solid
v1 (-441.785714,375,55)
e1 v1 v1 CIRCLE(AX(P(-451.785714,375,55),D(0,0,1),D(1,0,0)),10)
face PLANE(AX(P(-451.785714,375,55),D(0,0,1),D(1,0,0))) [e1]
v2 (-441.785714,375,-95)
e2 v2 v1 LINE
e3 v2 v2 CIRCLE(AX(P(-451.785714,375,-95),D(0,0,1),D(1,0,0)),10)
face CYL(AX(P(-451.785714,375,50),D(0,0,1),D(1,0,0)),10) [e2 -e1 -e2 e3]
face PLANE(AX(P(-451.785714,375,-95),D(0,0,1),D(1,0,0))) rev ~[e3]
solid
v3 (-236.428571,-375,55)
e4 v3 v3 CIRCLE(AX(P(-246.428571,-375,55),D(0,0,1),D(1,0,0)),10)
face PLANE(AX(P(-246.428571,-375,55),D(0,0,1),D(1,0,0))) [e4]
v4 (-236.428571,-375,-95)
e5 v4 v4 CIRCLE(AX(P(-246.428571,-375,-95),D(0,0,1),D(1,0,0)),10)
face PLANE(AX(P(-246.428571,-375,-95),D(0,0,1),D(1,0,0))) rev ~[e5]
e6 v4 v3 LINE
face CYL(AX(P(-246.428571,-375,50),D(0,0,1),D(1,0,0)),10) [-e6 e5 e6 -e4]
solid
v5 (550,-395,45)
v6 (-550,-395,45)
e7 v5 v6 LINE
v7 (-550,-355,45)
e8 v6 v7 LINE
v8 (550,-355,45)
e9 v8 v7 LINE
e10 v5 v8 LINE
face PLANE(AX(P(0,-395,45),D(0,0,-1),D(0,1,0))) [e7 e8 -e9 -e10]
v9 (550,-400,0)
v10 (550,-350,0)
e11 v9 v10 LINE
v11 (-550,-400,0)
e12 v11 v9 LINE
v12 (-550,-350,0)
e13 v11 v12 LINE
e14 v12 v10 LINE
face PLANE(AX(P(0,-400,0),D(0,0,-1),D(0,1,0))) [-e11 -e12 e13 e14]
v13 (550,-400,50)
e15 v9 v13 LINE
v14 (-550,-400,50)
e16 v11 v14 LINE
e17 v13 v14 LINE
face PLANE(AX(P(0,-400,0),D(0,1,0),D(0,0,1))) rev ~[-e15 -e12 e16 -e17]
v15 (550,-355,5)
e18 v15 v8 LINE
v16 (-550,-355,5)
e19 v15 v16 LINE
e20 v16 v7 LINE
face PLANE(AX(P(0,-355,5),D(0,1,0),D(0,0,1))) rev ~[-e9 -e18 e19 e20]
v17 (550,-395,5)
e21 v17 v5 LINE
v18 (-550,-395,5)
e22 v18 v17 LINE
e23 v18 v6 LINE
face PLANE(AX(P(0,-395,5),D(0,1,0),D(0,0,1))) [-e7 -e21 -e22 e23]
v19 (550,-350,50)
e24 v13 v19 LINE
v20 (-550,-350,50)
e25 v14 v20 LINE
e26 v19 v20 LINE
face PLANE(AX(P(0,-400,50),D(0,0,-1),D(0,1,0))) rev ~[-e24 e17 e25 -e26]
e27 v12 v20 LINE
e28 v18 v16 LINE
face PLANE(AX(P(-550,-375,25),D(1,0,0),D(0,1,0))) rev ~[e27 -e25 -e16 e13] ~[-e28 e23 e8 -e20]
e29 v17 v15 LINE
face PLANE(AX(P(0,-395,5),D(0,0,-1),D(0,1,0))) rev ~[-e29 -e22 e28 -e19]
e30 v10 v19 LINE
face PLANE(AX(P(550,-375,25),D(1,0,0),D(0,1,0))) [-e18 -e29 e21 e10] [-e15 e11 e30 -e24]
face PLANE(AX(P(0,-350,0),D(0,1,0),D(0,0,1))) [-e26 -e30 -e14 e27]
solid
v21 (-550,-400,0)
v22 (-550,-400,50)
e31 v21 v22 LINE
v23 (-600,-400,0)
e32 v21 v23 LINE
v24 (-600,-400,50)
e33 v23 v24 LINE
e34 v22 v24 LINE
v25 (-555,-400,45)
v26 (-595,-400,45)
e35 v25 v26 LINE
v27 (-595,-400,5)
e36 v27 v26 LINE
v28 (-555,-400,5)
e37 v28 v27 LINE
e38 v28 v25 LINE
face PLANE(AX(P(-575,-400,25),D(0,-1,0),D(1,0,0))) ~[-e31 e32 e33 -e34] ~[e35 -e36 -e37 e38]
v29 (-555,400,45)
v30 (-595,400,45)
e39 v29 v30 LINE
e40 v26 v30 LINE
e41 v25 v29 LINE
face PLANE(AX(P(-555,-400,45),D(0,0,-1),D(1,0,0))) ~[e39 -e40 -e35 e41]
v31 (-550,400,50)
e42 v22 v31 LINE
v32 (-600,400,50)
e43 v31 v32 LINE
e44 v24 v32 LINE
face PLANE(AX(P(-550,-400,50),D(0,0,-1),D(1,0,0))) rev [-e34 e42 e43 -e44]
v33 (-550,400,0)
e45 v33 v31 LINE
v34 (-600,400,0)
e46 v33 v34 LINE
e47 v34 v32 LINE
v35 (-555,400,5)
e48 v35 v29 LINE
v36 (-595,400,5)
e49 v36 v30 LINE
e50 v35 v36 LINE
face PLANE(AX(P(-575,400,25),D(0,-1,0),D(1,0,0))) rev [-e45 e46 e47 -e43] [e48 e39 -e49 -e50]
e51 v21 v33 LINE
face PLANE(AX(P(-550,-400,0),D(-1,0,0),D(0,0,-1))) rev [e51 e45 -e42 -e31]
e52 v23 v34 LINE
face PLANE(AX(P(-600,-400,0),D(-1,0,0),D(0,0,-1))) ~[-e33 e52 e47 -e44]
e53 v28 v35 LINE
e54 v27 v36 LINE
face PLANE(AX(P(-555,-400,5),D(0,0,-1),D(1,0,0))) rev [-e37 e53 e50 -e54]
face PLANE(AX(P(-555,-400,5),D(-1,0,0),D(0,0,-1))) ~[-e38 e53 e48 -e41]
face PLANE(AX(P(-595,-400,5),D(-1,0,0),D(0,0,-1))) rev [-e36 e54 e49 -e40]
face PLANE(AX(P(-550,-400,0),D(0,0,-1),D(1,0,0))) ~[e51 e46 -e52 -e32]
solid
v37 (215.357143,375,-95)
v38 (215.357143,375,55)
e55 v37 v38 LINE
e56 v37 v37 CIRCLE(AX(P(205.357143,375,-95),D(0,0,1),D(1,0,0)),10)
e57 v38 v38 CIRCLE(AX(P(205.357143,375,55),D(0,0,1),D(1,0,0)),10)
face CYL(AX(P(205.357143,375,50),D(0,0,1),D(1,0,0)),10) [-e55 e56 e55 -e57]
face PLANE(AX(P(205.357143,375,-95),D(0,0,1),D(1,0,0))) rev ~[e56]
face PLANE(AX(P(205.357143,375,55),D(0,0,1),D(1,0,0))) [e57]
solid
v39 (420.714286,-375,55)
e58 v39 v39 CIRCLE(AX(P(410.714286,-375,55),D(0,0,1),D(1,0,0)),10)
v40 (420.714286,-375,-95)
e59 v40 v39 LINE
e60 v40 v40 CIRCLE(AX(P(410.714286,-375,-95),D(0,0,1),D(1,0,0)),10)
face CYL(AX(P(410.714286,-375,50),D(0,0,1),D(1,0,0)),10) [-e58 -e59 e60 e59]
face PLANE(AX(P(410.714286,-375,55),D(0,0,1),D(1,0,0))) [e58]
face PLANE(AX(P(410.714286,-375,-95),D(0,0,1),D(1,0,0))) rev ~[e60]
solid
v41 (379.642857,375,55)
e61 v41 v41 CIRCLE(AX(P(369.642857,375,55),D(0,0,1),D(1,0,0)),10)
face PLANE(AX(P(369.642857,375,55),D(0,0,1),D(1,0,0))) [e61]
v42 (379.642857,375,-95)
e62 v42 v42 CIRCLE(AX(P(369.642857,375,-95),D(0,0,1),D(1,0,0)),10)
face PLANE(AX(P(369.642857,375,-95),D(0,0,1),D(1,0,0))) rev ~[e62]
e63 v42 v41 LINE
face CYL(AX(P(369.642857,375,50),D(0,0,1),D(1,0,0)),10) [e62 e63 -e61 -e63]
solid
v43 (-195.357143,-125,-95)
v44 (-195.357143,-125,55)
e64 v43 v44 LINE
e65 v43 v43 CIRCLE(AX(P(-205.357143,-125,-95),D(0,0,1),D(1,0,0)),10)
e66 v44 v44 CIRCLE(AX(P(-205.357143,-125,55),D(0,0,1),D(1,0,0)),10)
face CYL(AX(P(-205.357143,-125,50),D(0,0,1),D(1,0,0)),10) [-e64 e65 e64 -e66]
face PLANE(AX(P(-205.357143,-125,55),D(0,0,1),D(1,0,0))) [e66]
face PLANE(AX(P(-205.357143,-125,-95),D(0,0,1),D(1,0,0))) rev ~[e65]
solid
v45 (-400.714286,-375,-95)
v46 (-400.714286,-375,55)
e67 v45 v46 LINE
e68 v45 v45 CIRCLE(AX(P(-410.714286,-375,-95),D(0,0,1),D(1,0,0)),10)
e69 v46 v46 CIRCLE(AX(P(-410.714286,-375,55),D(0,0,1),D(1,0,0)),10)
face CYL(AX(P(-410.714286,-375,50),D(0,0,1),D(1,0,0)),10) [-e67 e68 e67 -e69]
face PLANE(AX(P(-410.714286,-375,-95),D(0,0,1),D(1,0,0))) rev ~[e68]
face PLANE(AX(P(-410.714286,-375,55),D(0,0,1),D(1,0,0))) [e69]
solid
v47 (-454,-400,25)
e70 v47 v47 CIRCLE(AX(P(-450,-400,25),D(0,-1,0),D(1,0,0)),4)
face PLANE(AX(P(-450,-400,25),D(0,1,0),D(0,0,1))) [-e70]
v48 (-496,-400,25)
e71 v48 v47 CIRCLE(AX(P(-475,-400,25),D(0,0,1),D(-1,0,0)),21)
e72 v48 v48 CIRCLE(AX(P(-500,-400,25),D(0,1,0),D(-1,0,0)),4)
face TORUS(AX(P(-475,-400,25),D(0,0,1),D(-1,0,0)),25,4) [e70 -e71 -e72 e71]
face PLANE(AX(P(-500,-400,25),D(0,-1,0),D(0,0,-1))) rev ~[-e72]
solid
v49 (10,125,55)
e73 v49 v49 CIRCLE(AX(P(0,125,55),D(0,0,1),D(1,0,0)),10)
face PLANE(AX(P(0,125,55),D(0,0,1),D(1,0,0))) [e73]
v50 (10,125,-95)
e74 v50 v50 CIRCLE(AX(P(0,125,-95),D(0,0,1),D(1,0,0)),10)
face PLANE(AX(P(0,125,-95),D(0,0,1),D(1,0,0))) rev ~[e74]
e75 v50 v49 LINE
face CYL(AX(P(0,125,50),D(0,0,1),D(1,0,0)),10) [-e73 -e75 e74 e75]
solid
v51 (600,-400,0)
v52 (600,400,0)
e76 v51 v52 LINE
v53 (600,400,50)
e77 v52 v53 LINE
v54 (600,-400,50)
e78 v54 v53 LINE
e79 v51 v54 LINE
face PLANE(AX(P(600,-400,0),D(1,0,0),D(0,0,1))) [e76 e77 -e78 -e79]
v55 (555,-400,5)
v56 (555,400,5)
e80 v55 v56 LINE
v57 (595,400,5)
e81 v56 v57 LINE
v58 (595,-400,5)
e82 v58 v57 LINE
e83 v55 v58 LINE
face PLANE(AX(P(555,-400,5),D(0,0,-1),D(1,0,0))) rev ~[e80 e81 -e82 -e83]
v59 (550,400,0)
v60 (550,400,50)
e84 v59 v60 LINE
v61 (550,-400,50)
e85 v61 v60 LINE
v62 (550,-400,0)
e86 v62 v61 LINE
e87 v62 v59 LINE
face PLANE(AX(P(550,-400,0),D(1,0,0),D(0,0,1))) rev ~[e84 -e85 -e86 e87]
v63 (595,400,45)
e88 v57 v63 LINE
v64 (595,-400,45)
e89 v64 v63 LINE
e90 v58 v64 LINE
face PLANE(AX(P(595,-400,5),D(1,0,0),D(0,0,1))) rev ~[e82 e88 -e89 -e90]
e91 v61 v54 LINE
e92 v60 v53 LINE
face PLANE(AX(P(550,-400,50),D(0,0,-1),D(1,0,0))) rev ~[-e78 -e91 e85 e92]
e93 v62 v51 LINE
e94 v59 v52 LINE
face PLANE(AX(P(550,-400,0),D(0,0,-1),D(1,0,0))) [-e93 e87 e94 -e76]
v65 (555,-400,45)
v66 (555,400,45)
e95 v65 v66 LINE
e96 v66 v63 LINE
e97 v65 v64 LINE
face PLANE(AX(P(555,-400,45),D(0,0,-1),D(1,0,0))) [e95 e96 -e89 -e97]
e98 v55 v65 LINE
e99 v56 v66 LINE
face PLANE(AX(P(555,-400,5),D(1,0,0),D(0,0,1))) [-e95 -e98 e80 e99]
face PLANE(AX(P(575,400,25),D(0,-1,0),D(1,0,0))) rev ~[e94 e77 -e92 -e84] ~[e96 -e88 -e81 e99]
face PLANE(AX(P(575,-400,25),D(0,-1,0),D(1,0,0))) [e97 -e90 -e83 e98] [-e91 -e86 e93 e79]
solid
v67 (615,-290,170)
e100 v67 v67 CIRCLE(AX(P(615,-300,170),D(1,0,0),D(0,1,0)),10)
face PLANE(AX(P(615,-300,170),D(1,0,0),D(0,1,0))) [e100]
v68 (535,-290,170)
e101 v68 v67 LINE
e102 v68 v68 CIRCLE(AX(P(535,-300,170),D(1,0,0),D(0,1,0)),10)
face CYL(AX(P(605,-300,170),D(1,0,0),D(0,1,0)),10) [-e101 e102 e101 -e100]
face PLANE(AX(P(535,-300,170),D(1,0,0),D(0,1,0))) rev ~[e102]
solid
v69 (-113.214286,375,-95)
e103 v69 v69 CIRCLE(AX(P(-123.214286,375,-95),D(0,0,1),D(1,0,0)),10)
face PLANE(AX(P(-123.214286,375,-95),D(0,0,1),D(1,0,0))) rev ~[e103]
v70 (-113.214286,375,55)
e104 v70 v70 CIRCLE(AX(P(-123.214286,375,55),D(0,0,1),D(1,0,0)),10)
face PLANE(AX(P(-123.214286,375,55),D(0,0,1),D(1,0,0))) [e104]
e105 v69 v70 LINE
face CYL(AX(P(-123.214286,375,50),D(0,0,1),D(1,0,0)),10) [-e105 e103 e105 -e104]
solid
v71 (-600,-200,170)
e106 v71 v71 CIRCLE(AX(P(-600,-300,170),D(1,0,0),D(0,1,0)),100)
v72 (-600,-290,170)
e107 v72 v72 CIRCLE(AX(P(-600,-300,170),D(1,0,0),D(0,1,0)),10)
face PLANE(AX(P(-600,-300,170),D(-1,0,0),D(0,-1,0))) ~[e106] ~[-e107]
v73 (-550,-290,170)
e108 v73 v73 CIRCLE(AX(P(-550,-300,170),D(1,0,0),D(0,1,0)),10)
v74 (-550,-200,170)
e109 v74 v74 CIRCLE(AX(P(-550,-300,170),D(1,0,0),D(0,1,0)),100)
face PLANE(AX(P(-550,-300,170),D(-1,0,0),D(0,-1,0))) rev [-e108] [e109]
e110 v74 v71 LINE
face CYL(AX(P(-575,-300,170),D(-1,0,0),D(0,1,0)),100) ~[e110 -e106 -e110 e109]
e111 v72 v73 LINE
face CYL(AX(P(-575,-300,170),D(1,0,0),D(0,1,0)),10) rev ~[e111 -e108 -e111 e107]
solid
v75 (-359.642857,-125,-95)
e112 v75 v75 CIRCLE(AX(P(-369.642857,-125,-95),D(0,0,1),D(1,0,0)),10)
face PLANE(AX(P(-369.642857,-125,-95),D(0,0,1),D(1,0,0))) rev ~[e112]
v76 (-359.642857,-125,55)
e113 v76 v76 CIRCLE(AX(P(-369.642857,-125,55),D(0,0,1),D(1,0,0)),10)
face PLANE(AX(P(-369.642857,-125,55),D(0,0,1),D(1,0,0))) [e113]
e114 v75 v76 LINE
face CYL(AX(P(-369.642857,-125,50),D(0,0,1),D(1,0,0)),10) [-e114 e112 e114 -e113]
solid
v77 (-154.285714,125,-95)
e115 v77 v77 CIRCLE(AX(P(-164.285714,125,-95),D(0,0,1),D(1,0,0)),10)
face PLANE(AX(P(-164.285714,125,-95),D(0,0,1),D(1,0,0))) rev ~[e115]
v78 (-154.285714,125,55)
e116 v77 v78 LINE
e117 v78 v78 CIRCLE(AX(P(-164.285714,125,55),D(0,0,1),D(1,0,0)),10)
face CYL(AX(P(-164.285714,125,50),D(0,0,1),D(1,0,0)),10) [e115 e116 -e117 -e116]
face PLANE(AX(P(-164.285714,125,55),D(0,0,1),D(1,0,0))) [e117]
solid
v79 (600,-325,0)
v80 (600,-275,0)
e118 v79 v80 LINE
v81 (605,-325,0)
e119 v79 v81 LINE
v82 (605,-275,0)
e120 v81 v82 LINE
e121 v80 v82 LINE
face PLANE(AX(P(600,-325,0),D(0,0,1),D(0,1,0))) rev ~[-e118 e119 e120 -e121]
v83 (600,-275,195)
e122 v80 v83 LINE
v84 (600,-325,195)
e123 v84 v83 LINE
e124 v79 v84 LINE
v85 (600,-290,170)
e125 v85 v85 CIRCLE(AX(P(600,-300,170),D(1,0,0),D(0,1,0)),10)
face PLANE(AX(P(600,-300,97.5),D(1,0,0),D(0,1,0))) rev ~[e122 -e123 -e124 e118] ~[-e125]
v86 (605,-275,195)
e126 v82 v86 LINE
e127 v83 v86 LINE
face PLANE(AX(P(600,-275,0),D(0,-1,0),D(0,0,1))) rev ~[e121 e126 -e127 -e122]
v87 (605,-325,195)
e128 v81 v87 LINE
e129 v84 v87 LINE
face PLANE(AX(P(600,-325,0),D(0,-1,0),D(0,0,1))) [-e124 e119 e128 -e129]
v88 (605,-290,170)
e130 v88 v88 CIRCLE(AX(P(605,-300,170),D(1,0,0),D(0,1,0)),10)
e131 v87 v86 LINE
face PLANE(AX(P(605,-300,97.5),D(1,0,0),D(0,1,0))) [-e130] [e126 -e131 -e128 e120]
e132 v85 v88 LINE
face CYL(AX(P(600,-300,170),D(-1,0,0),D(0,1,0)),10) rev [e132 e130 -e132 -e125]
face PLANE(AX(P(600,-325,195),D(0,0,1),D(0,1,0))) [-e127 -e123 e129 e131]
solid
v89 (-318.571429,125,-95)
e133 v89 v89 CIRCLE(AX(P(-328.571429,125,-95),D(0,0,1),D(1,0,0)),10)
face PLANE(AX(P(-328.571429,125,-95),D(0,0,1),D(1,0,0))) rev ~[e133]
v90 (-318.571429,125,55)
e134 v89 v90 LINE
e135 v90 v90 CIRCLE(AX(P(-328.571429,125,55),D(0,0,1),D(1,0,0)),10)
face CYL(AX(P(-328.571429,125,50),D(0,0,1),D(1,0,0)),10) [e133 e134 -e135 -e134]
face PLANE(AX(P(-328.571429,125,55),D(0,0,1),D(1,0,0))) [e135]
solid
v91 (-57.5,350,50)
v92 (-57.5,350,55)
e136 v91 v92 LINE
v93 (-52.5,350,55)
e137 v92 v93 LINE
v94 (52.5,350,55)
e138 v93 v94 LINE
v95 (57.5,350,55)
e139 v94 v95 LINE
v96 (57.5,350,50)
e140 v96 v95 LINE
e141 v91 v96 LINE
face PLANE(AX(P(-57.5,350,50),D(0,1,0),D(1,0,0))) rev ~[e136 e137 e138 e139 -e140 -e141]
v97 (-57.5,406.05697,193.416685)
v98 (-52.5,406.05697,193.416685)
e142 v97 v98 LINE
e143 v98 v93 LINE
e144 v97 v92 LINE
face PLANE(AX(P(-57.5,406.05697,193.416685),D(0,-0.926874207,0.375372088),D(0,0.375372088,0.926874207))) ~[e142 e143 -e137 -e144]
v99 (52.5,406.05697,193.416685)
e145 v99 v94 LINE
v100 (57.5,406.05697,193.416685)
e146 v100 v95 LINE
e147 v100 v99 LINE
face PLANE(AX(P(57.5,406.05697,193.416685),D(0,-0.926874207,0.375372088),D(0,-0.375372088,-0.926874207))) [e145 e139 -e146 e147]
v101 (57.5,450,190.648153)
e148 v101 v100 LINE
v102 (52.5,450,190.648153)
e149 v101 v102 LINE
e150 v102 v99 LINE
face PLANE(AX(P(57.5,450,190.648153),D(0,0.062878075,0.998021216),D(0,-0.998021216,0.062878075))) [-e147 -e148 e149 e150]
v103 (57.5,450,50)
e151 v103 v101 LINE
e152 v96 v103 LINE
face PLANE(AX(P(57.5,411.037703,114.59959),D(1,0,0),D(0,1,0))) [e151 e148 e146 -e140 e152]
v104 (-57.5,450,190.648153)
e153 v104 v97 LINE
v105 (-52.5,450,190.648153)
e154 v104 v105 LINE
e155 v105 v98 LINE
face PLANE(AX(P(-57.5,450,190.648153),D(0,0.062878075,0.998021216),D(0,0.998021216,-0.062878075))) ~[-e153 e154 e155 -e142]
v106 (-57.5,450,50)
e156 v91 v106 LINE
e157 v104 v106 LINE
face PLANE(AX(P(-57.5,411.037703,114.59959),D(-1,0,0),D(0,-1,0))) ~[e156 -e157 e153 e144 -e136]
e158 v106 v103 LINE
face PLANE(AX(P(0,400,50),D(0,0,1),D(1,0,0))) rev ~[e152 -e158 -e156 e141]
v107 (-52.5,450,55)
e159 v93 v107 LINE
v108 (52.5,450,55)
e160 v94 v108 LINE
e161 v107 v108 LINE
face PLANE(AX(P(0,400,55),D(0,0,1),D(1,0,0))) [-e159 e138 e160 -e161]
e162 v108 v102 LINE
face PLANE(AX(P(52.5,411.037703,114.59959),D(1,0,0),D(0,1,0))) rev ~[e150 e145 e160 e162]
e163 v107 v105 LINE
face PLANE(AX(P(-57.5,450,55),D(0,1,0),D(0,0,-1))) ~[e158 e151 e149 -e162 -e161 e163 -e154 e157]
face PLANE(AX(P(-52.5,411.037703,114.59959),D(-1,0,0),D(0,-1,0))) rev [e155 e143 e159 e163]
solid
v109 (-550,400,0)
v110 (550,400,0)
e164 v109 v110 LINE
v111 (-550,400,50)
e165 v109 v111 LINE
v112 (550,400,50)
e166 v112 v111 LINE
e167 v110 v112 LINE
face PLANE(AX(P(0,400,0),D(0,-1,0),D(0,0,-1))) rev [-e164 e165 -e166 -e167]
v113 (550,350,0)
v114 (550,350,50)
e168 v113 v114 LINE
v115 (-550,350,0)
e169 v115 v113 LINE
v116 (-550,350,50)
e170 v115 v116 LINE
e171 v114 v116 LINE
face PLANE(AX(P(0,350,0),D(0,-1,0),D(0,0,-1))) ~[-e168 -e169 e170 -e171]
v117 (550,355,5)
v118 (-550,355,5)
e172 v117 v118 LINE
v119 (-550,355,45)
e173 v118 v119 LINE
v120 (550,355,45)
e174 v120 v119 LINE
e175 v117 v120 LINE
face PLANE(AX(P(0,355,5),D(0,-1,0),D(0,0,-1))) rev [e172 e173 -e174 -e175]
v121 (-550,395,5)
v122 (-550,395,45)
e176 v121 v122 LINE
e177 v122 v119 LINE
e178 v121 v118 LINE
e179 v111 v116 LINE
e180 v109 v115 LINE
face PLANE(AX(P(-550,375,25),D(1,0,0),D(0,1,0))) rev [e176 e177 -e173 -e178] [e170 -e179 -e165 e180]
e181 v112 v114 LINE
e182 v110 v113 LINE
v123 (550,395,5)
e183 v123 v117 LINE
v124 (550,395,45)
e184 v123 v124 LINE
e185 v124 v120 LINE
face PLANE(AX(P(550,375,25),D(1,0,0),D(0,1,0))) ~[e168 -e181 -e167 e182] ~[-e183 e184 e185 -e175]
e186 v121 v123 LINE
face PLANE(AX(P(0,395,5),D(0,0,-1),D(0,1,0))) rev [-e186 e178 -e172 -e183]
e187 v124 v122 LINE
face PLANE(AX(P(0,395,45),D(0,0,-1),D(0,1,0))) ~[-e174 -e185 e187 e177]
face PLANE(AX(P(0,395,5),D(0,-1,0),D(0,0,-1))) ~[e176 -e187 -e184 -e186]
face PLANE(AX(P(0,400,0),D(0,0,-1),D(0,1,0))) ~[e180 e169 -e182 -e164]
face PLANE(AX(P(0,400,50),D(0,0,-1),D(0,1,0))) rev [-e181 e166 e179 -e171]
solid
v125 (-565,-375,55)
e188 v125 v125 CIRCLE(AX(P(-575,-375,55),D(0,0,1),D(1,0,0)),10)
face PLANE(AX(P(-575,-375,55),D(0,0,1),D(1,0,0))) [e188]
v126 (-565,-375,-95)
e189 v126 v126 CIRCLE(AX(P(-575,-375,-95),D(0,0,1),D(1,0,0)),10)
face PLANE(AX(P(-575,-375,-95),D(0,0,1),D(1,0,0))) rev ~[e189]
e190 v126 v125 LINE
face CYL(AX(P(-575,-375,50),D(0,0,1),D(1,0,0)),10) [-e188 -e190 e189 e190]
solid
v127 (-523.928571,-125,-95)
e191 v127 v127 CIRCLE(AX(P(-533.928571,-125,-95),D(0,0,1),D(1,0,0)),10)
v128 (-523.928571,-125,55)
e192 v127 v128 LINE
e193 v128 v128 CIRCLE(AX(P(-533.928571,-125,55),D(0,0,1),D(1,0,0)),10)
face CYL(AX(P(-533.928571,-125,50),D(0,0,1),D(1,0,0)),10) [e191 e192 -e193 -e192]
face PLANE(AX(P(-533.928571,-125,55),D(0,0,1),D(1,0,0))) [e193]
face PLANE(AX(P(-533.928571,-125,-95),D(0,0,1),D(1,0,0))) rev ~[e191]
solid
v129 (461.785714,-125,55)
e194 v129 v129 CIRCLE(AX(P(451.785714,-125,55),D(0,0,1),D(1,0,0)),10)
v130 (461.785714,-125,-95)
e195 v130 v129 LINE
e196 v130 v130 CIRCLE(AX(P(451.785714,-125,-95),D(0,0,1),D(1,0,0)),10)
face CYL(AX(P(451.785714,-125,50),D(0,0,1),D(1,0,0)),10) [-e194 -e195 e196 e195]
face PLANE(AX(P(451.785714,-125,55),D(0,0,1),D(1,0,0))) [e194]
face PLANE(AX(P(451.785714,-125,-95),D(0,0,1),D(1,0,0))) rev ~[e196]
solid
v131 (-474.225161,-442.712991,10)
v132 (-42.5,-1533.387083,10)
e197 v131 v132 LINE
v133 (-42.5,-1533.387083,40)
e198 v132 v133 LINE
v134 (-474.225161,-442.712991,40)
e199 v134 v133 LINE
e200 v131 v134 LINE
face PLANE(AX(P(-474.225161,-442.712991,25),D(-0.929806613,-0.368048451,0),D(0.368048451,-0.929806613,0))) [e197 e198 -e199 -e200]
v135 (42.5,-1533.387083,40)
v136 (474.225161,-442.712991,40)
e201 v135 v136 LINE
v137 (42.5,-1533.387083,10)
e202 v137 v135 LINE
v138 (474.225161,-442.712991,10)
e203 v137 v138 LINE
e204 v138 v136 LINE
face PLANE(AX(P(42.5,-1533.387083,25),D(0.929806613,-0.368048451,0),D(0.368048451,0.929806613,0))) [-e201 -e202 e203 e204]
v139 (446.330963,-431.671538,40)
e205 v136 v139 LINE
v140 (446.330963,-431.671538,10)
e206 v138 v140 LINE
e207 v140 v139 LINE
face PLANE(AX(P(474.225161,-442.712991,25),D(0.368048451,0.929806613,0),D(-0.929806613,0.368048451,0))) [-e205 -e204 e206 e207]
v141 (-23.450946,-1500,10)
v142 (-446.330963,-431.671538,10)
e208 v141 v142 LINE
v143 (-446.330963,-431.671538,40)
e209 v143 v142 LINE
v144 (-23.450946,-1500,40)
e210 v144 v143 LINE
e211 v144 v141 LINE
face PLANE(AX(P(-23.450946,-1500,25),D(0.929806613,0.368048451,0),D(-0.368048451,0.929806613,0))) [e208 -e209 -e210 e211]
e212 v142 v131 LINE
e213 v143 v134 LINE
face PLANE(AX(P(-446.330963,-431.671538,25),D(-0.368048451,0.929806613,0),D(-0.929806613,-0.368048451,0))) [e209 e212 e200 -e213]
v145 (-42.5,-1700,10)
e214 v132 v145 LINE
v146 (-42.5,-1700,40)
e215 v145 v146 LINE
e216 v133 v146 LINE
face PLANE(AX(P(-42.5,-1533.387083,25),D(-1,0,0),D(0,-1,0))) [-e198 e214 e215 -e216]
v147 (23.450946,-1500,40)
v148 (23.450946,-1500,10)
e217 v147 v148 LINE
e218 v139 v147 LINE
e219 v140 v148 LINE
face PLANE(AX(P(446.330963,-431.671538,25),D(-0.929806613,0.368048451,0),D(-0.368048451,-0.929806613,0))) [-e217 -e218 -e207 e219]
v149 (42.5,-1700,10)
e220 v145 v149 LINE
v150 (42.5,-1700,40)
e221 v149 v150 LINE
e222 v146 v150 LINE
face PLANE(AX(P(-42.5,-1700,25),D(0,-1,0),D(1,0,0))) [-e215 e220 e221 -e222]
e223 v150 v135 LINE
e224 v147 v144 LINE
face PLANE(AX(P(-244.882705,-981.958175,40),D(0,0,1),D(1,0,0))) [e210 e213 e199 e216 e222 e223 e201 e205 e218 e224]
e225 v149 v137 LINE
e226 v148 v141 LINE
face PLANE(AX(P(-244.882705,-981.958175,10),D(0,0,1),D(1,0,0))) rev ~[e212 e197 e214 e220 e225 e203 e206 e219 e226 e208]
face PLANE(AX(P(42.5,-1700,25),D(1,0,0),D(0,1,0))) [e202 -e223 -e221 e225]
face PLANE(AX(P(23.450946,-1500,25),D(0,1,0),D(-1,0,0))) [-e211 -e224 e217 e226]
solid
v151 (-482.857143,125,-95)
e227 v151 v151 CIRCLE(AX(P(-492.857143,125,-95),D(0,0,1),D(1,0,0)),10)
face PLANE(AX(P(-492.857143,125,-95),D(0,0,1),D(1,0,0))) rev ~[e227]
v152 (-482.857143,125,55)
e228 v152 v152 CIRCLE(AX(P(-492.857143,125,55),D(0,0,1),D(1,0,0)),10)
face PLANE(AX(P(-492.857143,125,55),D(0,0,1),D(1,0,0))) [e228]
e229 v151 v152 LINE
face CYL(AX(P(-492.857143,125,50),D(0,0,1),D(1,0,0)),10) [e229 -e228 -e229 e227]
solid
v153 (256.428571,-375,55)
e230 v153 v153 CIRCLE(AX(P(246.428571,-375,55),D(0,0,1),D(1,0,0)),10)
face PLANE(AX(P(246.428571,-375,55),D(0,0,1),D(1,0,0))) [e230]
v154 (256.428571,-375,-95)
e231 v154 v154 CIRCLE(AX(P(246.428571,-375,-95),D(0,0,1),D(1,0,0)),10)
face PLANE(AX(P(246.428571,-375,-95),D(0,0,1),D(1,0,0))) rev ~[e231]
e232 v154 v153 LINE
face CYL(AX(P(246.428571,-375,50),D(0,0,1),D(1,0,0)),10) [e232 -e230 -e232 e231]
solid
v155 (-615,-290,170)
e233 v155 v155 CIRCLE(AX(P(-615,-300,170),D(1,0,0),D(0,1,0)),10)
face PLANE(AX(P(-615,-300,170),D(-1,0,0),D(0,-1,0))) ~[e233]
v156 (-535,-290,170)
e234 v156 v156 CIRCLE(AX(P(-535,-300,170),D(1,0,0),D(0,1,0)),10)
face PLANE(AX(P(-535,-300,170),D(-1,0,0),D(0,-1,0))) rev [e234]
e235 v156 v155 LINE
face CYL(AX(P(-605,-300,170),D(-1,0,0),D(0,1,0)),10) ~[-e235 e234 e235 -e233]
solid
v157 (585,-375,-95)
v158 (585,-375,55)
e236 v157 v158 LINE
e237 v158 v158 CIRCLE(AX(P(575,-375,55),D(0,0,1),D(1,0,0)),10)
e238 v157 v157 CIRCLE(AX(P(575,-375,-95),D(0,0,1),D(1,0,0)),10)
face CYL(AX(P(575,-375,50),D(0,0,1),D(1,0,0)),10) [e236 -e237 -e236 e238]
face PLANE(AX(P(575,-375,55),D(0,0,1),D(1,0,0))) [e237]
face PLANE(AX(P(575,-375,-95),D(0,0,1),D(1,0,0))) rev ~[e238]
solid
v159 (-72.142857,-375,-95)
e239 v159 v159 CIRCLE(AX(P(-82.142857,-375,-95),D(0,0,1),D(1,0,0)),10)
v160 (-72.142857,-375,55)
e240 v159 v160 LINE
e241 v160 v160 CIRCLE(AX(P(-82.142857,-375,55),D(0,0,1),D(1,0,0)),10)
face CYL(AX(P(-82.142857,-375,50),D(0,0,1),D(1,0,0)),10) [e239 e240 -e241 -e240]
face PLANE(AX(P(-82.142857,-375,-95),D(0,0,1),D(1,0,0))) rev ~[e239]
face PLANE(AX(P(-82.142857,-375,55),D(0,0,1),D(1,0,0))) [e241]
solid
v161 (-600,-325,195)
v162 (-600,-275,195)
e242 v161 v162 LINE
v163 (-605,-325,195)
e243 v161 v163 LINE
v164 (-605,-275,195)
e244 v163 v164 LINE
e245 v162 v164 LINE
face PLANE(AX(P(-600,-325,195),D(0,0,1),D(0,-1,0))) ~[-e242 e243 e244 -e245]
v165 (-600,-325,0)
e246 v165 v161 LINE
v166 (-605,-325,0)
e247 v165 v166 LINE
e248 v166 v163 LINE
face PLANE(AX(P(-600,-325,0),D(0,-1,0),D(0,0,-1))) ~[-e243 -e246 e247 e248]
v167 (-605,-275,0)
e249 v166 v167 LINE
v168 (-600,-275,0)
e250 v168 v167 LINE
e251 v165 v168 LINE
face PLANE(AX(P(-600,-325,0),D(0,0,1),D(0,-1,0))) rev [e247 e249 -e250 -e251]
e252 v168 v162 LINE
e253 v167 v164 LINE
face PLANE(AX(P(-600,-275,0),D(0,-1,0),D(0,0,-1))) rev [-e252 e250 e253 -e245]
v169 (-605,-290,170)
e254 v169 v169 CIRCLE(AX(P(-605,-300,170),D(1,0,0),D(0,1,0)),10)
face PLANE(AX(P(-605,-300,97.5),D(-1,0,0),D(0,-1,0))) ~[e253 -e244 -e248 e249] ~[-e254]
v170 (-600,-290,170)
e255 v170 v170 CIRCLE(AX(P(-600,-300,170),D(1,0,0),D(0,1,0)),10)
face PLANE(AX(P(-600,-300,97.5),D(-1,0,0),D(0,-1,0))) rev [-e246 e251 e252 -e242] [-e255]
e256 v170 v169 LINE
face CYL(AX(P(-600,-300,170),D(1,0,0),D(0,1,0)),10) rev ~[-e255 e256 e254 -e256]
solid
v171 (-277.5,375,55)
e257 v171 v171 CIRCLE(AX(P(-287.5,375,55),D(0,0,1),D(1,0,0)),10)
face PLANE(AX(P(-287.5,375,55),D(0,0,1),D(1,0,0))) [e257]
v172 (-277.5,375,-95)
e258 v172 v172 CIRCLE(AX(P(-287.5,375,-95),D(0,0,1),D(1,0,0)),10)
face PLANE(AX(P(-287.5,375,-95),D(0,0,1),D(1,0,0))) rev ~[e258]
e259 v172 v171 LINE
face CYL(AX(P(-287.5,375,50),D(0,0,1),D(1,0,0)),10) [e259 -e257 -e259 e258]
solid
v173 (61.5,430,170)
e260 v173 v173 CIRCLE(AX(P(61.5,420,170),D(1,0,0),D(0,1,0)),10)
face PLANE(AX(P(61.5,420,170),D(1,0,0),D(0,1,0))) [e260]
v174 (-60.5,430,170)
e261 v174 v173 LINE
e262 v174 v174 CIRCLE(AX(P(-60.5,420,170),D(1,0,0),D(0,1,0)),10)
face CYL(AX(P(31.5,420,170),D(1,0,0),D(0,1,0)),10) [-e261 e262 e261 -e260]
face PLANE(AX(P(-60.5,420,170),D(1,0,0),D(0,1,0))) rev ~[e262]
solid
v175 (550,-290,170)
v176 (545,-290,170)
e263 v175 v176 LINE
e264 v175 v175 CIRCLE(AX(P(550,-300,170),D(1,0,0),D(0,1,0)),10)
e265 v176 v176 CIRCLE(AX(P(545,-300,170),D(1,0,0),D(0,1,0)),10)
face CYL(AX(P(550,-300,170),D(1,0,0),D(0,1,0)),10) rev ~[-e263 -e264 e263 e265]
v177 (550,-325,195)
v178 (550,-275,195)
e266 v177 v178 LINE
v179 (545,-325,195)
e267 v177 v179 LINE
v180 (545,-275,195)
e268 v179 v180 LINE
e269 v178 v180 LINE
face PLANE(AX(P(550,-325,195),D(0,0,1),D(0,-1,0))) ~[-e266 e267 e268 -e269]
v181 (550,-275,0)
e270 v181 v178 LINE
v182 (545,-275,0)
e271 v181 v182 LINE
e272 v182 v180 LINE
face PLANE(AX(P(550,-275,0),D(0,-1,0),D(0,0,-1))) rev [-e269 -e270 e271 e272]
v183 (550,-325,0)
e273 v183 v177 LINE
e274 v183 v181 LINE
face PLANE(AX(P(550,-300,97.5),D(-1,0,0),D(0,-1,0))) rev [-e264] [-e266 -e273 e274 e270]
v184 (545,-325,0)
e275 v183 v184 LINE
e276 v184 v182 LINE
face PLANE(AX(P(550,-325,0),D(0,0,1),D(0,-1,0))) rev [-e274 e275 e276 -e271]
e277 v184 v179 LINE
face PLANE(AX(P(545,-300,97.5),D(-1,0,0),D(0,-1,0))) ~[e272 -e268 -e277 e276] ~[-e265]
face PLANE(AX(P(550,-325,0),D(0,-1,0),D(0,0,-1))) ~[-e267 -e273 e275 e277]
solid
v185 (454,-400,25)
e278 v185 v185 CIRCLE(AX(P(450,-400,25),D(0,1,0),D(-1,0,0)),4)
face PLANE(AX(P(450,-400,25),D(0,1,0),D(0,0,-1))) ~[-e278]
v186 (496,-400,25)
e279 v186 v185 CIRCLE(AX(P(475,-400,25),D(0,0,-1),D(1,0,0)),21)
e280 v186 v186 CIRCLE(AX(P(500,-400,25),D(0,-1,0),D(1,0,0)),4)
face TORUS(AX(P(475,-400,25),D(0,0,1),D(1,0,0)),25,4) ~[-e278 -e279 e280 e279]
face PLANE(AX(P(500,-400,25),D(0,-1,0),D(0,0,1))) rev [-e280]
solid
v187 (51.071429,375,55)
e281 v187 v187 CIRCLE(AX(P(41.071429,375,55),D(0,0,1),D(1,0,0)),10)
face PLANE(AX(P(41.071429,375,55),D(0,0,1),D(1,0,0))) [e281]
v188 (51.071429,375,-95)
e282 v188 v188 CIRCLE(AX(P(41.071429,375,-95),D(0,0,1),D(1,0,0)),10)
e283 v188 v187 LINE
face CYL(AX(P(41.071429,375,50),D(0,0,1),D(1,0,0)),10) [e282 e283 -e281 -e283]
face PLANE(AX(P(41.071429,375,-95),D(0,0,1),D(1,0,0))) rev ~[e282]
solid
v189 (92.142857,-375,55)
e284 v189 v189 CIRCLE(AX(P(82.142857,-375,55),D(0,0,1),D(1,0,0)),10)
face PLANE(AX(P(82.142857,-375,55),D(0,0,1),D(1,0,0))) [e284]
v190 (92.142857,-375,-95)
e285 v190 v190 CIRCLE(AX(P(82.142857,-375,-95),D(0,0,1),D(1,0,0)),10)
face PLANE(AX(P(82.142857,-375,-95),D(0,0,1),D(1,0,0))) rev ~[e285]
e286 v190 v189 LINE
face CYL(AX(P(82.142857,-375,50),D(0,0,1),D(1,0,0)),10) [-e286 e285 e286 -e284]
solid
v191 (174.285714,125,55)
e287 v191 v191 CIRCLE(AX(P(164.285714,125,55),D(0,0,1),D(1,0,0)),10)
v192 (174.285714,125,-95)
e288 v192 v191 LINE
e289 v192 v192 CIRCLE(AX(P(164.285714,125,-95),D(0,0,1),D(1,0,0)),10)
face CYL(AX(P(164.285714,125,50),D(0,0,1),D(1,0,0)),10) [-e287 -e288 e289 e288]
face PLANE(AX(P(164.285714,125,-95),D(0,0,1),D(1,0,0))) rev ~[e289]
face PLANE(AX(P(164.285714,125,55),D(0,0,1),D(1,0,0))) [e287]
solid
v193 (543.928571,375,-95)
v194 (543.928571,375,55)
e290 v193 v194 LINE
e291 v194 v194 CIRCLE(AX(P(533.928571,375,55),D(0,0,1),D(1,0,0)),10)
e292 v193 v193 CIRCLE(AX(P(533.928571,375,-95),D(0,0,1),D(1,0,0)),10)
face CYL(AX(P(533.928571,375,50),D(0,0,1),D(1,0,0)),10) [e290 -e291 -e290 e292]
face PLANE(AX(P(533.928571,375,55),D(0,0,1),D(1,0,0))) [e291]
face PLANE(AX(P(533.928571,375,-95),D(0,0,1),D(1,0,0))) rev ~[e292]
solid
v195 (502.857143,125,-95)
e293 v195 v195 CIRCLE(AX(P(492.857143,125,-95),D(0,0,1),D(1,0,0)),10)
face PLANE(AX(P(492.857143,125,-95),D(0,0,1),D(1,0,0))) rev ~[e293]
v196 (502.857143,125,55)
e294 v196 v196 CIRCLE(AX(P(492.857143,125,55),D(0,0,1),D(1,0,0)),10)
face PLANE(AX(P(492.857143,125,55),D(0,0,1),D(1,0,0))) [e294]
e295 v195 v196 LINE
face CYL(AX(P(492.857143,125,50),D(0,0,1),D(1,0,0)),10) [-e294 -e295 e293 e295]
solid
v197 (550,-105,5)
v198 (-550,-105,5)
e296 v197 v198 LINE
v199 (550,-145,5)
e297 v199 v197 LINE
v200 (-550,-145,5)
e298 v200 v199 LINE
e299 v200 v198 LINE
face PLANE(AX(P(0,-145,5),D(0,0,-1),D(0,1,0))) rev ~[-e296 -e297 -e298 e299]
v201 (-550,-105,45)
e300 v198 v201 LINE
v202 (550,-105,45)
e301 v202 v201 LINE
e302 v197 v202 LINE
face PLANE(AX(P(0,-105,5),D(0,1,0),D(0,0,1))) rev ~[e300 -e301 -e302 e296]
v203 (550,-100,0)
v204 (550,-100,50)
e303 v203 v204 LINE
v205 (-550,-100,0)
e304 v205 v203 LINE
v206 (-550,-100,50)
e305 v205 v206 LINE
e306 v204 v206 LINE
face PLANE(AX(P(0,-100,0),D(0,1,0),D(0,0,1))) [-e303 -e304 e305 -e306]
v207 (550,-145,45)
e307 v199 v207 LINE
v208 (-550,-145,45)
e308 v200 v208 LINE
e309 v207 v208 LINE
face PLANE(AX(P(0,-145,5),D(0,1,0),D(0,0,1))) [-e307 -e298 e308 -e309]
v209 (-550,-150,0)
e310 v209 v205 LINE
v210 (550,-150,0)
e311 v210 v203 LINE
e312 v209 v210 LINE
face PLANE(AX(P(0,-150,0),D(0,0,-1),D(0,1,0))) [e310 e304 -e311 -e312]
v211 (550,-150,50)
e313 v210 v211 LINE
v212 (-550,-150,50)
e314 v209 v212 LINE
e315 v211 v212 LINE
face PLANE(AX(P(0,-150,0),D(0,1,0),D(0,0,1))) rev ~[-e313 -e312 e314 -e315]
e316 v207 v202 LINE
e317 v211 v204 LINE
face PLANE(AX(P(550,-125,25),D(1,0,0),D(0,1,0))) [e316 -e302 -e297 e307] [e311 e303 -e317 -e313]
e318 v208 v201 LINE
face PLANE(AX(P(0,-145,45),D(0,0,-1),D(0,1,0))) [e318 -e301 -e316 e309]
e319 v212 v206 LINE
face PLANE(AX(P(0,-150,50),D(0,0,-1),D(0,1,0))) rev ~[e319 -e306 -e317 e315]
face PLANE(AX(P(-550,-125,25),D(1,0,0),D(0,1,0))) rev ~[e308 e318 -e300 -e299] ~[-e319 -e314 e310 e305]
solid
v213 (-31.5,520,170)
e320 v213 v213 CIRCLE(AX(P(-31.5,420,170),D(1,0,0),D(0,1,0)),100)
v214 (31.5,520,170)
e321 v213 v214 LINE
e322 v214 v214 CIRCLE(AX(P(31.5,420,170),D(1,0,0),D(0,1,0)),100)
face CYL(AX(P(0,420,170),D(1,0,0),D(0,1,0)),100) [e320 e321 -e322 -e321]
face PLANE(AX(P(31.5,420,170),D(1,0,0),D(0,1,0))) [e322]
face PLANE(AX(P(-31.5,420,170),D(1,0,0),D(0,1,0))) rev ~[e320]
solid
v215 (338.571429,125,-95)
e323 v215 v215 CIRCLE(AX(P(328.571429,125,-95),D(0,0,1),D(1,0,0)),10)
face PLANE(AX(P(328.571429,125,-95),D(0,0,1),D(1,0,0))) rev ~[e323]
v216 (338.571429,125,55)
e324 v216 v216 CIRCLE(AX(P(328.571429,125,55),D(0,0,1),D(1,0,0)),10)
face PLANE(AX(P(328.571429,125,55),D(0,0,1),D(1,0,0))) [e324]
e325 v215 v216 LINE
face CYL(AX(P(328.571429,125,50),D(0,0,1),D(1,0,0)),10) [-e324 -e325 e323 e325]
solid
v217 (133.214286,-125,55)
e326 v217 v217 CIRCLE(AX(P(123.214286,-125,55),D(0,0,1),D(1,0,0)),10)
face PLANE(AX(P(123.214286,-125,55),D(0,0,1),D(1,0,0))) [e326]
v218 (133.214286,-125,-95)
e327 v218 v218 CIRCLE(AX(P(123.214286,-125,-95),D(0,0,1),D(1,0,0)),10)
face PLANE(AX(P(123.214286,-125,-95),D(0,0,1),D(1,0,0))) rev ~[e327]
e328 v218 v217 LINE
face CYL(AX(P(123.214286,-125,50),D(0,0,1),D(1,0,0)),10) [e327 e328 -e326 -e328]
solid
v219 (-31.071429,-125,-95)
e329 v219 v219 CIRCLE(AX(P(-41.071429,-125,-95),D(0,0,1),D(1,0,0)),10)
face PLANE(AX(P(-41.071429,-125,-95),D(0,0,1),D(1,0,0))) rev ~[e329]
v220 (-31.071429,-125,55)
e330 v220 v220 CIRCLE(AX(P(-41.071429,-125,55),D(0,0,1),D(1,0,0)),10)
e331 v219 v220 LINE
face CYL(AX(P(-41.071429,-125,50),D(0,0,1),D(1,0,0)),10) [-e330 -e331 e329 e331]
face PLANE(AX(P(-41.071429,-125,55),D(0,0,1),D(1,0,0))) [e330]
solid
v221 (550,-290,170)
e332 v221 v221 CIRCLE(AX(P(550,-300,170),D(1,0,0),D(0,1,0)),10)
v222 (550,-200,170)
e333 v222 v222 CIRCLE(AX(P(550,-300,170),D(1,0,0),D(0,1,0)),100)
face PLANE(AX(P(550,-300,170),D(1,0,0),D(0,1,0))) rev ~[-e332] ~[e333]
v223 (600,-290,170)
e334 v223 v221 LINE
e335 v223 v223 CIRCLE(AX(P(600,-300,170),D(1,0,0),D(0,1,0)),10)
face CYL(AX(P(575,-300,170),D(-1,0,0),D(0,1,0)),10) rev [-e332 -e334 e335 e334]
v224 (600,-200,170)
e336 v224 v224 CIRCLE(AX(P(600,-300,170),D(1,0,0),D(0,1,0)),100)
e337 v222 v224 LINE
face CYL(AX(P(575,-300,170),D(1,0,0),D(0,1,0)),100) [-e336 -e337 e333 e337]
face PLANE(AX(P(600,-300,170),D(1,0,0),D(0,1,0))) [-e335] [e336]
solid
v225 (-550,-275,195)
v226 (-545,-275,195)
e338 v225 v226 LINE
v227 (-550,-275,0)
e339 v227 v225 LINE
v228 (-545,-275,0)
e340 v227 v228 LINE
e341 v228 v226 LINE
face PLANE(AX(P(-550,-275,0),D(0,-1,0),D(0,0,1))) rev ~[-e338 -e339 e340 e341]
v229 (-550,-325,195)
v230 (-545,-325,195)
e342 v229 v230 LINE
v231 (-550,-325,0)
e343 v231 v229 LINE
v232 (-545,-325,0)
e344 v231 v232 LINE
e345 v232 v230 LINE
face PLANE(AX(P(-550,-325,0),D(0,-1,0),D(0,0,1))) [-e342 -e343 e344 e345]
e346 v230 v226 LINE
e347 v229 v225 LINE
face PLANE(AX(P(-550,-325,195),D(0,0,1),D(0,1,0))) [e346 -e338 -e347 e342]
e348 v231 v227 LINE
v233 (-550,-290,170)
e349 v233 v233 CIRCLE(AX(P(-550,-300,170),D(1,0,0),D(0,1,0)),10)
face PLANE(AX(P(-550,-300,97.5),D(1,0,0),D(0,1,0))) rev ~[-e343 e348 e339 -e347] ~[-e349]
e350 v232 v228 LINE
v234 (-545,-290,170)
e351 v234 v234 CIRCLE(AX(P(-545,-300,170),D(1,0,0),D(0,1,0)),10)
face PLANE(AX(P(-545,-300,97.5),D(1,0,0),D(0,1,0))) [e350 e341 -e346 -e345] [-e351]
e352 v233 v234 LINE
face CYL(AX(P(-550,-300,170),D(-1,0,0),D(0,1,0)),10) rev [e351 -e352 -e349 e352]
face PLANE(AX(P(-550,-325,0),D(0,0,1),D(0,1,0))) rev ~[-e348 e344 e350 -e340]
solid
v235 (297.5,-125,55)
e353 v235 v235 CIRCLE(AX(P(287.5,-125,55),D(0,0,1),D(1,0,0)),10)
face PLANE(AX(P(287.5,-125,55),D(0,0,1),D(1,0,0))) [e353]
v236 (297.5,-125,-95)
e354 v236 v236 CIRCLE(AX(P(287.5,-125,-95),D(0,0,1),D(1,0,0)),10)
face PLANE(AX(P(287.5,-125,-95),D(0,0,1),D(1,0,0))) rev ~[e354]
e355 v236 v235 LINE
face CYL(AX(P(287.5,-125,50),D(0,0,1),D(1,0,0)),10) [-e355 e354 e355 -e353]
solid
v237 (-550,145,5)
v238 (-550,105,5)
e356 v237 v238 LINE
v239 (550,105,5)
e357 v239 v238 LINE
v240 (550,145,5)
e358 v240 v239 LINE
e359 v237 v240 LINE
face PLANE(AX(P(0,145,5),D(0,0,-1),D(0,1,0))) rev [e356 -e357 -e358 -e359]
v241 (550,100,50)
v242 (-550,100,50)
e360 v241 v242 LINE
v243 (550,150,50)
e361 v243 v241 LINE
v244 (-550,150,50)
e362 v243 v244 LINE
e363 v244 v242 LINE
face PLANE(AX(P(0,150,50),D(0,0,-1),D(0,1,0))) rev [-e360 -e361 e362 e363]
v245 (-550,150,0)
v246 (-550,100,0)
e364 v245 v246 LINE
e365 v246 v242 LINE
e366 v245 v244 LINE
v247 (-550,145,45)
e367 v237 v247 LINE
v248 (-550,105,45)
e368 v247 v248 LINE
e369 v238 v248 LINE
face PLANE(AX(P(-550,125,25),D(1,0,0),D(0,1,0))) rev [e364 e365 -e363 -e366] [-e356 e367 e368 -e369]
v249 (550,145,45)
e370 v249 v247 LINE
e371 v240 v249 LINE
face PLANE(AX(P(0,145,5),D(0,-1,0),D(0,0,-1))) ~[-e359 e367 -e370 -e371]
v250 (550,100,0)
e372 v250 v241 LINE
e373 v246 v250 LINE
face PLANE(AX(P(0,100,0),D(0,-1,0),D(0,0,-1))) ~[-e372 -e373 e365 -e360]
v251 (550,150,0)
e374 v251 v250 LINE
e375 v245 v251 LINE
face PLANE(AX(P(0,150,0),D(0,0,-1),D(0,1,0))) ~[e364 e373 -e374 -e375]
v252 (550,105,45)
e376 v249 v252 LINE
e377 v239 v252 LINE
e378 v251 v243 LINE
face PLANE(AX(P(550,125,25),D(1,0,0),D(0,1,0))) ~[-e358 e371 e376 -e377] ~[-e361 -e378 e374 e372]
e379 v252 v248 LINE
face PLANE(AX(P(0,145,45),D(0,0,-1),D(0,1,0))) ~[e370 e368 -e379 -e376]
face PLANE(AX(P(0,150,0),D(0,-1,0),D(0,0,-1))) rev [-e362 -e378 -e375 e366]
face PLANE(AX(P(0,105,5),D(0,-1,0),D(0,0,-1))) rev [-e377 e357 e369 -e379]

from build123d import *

# Parameters (mm, degrees)
F2_W           = 50
F2_H           = 50
F2_W_2         = 40
F2_H_2         = 40
F3_DEPTH       = 550
F5_W           = 50
F5_H           = 50
F5_W_2         = 40
F5_H_2         = 40
F6_DEPTH       = 800
F10_R          = 10
F11_DEPTH      = 5
F11_DEPTH_BACK = 145
F12_R          = 10
F13_DEPTH      = 5
F13_DEPTH_BACK = 145
F14_R          = 10
F15_DEPTH      = 5
F15_DEPTH_BACK = 145
F16_R          = 10
F17_DEPTH      = 5
F17_DEPTH_BACK = 145
F21_R          = 4
F25_DEPTH      = 15
F27_R          = 100
F27_R_2        = 10
F28_DEPTH      = 25
F29_W          = 50
F29_H          = 195
F29_R          = 10
F30_DEPTH      = 5
F32_R          = 10
F33_DEPTH      = 10
F33_DEPTH_BACK = 70
F35_R          = 100
F36_DEPTH      = 31.5
F37_W          = 115
F37_H          = 100
F38_DEPTH      = 5
F40_DEPTH      = 5
F42_R          = 10
F43_DEPTH      = 30
F43_DEPTH_BACK = 92


with BuildPart() as f3:
    # F2 (on Right) → F3 (new body, symmetric)
    with BuildSketch(Plane.YZ):
        with Locations((-375, 25)):
            Rectangle(F2_W, F2_H)
        with Locations((-375, 25)):
            Rectangle(F2_W_2, F2_H_2, mode=Mode.SUBTRACT)
    extrude(amount=F3_DEPTH, both=True)


with BuildPart() as f3b:
    # F2 (on Right) → F3, piece 2 (new body, symmetric)
    with BuildSketch(Plane.YZ):
        with Locations((-125, 25)):
            Rectangle(F2_W, F2_H)
        with Locations((-125, 25)):
            Rectangle(F2_W_2, F2_H_2, mode=Mode.SUBTRACT)
    extrude(amount=F3_DEPTH, both=True)


with BuildPart() as f4_1:
    # F4: instance of F3
    add(f3.part.mirror(Plane.XZ))


with BuildPart() as f4_2:
    # F4: instance of F3b
    add(f3b.part.mirror(Plane.XZ))


with BuildPart() as f6:
    # F5 (on face) → F6 (new body, through all)
    with BuildSketch(Plane.XZ.offset(400)):
        with Locations((575, 25)):
            Rectangle(F5_W, F5_H)
        with Locations((575, 25)):
            Rectangle(F5_W_2, F5_H_2, mode=Mode.SUBTRACT)
    extrude(amount=-F6_DEPTH)


with BuildPart() as f7_1:
    # F7: instance of F6
    add(f6.part.mirror(Plane.YZ))


with BuildPart() as f11:
    # F10 (on face) → F11 (new body, two sides)
    with BuildSketch(Plane.XY.offset(50)) as f11_sk:
        with Locations((-575, -375)):
            Circle(F10_R)
    extrude(amount=F11_DEPTH)
    extrude(f11_sk.sketch, amount=-F11_DEPTH_BACK)


with BuildPart() as f11b:
    # F10 (on face) → F11, piece 2 (new body, two sides)
    with BuildSketch(Plane.XY.offset(50)) as f11_2_sk:
        with Locations((-410.7142857143, -375)):
            Circle(F10_R)
    extrude(amount=F11_DEPTH)
    extrude(f11_2_sk.sketch, amount=-F11_DEPTH_BACK)


with BuildPart() as f11c:
    # F10 (on face) → F11, piece 3 (new body, two sides)
    with BuildSketch(Plane.XY.offset(50)) as f11_3_sk:
        with Locations((-246.4285714286, -375)):
            Circle(F10_R)
    extrude(amount=F11_DEPTH)
    extrude(f11_3_sk.sketch, amount=-F11_DEPTH_BACK)


with BuildPart() as f11d:
    # F10 (on face) → F11, piece 4 (new body, two sides)
    with BuildSketch(Plane.XY.offset(50)) as f11_4_sk:
        with Locations((-82.1428571429, -375)):
            Circle(F10_R)
    extrude(amount=F11_DEPTH)
    extrude(f11_4_sk.sketch, amount=-F11_DEPTH_BACK)


with BuildPart() as f11e:
    # F10 (on face) → F11, piece 5 (new body, two sides)
    with BuildSketch(Plane.XY.offset(50)) as f11_5_sk:
        with Locations((82.1428571429, -375)):
            Circle(F10_R)
    extrude(amount=F11_DEPTH)
    extrude(f11_5_sk.sketch, amount=-F11_DEPTH_BACK)


with BuildPart() as f11f:
    # F10 (on face) → F11, piece 6 (new body, two sides)
    with BuildSketch(Plane.XY.offset(50)) as f11_6_sk:
        with Locations((246.4285714286, -375)):
            Circle(F10_R)
    extrude(amount=F11_DEPTH)
    extrude(f11_6_sk.sketch, amount=-F11_DEPTH_BACK)


with BuildPart() as f11g:
    # F10 (on face) → F11, piece 7 (new body, two sides)
    with BuildSketch(Plane.XY.offset(50)) as f11_7_sk:
        with Locations((410.7142857143, -375)):
            Circle(F10_R)
    extrude(amount=F11_DEPTH)
    extrude(f11_7_sk.sketch, amount=-F11_DEPTH_BACK)


with BuildPart() as f11h:
    # F10 (on face) → F11, piece 8 (new body, two sides)
    with BuildSketch(Plane.XY.offset(50)) as f11_8_sk:
        with Locations((575, -375)):
            Circle(F10_R)
    extrude(amount=F11_DEPTH)
    extrude(f11_8_sk.sketch, amount=-F11_DEPTH_BACK)


with BuildPart() as f13:
    # F12 (on face) → F13 (new body, two sides)
    with BuildSketch(Plane.XY.offset(50)) as f13_sk:
        with Locations((-533.9285714286, -125)):
            Circle(F12_R)
    extrude(amount=F13_DEPTH)
    extrude(f13_sk.sketch, amount=-F13_DEPTH_BACK)


with BuildPart() as f13b:
    # F12 (on face) → F13, piece 2 (new body, two sides)
    with BuildSketch(Plane.XY.offset(50)) as f13_2_sk:
        with Locations((-369.6428571429, -125)):
            Circle(F12_R)
    extrude(amount=F13_DEPTH)
    extrude(f13_2_sk.sketch, amount=-F13_DEPTH_BACK)


with BuildPart() as f13c:
    # F12 (on face) → F13, piece 3 (new body, two sides)
    with BuildSketch(Plane.XY.offset(50)) as f13_3_sk:
        with Locations((-205.3571428571, -125)):
            Circle(F12_R)
    extrude(amount=F13_DEPTH)
    extrude(f13_3_sk.sketch, amount=-F13_DEPTH_BACK)


with BuildPart() as f13d:
    # F12 (on face) → F13, piece 4 (new body, two sides)
    with BuildSketch(Plane.XY.offset(50)) as f13_4_sk:
        with Locations((-41.0714285714, -125)):
            Circle(F12_R)
    extrude(amount=F13_DEPTH)
    extrude(f13_4_sk.sketch, amount=-F13_DEPTH_BACK)


with BuildPart() as f13e:
    # F12 (on face) → F13, piece 5 (new body, two sides)
    with BuildSketch(Plane.XY.offset(50)) as f13_5_sk:
        with Locations((123.2142857143, -125)):
            Circle(F12_R)
    extrude(amount=F13_DEPTH)
    extrude(f13_5_sk.sketch, amount=-F13_DEPTH_BACK)


with BuildPart() as f13f:
    # F12 (on face) → F13, piece 6 (new body, two sides)
    with BuildSketch(Plane.XY.offset(50)) as f13_6_sk:
        with Locations((287.5, -125)):
            Circle(F12_R)
    extrude(amount=F13_DEPTH)
    extrude(f13_6_sk.sketch, amount=-F13_DEPTH_BACK)


with BuildPart() as f13g:
    # F12 (on face) → F13, piece 7 (new body, two sides)
    with BuildSketch(Plane.XY.offset(50)) as f13_7_sk:
        with Locations((451.7857142857, -125)):
            Circle(F12_R)
    extrude(amount=F13_DEPTH)
    extrude(f13_7_sk.sketch, amount=-F13_DEPTH_BACK)


with BuildPart() as f15:
    # F14 (on face) → F15 (new body, two sides)
    with BuildSketch(Plane.XY.offset(50)) as f15_sk:
        with Locations((-492.8571428571, 125)):
            Circle(F14_R)
    extrude(amount=F15_DEPTH)
    extrude(f15_sk.sketch, amount=-F15_DEPTH_BACK)


with BuildPart() as f15b:
    # F14 (on face) → F15, piece 2 (new body, two sides)
    with BuildSketch(Plane.XY.offset(50)) as f15_2_sk:
        with Locations((-328.5714285714, 125)):
            Circle(F14_R)
    extrude(amount=F15_DEPTH)
    extrude(f15_2_sk.sketch, amount=-F15_DEPTH_BACK)


with BuildPart() as f15c:
    # F14 (on face) → F15, piece 3 (new body, two sides)
    with BuildSketch(Plane.XY.offset(50)) as f15_3_sk:
        with Locations((-164.2857142857, 125)):
            Circle(F14_R)
    extrude(amount=F15_DEPTH)
    extrude(f15_3_sk.sketch, amount=-F15_DEPTH_BACK)


with BuildPart() as f15d:
    # F14 (on face) → F15, piece 4 (new body, two sides)
    with BuildSketch(Plane.XY.offset(50)) as f15_4_sk:
        with Locations((0, 125)):
            Circle(F14_R)
    extrude(amount=F15_DEPTH)
    extrude(f15_4_sk.sketch, amount=-F15_DEPTH_BACK)


with BuildPart() as f15e:
    # F14 (on face) → F15, piece 5 (new body, two sides)
    with BuildSketch(Plane.XY.offset(50)) as f15_5_sk:
        with Locations((164.2857142857, 125)):
            Circle(F14_R)
    extrude(amount=F15_DEPTH)
    extrude(f15_5_sk.sketch, amount=-F15_DEPTH_BACK)


with BuildPart() as f15f:
    # F14 (on face) → F15, piece 6 (new body, two sides)
    with BuildSketch(Plane.XY.offset(50)) as f15_6_sk:
        with Locations((328.5714285714, 125)):
            Circle(F14_R)
    extrude(amount=F15_DEPTH)
    extrude(f15_6_sk.sketch, amount=-F15_DEPTH_BACK)


with BuildPart() as f15g:
    # F14 (on face) → F15, piece 7 (new body, two sides)
    with BuildSketch(Plane.XY.offset(50)) as f15_7_sk:
        with Locations((492.8571428571, 125)):
            Circle(F14_R)
    extrude(amount=F15_DEPTH)
    extrude(f15_7_sk.sketch, amount=-F15_DEPTH_BACK)


with BuildPart() as f17:
    # F16 (on face) → F17 (new body, two sides)
    with BuildSketch(Plane.XY.offset(50)) as f17_sk:
        with Locations((-451.7857142857, 375)):
            Circle(F16_R)
    extrude(amount=F17_DEPTH)
    extrude(f17_sk.sketch, amount=-F17_DEPTH_BACK)


with BuildPart() as f17b:
    # F16 (on face) → F17, piece 2 (new body, two sides)
    with BuildSketch(Plane.XY.offset(50)) as f17_2_sk:
        with Locations((-287.5, 375)):
            Circle(F16_R)
    extrude(amount=F17_DEPTH)
    extrude(f17_2_sk.sketch, amount=-F17_DEPTH_BACK)


with BuildPart() as f17c:
    # F16 (on face) → F17, piece 3 (new body, two sides)
    with BuildSketch(Plane.XY.offset(50)) as f17_3_sk:
        with Locations((-123.2142857143, 375)):
            Circle(F16_R)
    extrude(amount=F17_DEPTH)
    extrude(f17_3_sk.sketch, amount=-F17_DEPTH_BACK)


with BuildPart() as f17d:
    # F16 (on face) → F17, piece 4 (new body, two sides)
    with BuildSketch(Plane.XY.offset(50)) as f17_4_sk:
        with Locations((41.0714285714, 375)):
            Circle(F16_R)
    extrude(amount=F17_DEPTH)
    extrude(f17_4_sk.sketch, amount=-F17_DEPTH_BACK)


with BuildPart() as f17e:
    # F16 (on face) → F17, piece 5 (new body, two sides)
    with BuildSketch(Plane.XY.offset(50)) as f17_5_sk:
        with Locations((205.3571428571, 375)):
            Circle(F16_R)
    extrude(amount=F17_DEPTH)
    extrude(f17_5_sk.sketch, amount=-F17_DEPTH_BACK)


with BuildPart() as f17f:
    # F16 (on face) → F17, piece 6 (new body, two sides)
    with BuildSketch(Plane.XY.offset(50)) as f17_6_sk:
        with Locations((369.6428571429, 375)):
            Circle(F16_R)
    extrude(amount=F17_DEPTH)
    extrude(f17_6_sk.sketch, amount=-F17_DEPTH_BACK)


with BuildPart() as f17g:
    # F16 (on face) → F17, piece 7 (new body, two sides)
    with BuildSketch(Plane.XY.offset(50)) as f17_7_sk:
        with Locations((533.9285714286, 375)):
            Circle(F16_R)
    extrude(amount=F17_DEPTH)
    extrude(f17_7_sk.sketch, amount=-F17_DEPTH_BACK)


with BuildPart() as f22:
    # F22: sweep along a path in F19
    with BuildLine(Plane.XY.offset(25)) as f22_path:
        ThreePointArc((-500, -400), (-475, -425), (-450, -400))
    # F21 (on line) → F22 (sweep)
    with BuildSketch(Plane(origin=(0, -400, 0), x_dir=(-1, 0, 0), z_dir=(0, 1, 0))):
        with Locations((450, 25)):
            Circle(F21_R)
    sweep(path=f22_path.line)


with BuildPart() as f23_1:
    # F23: instance of F22
    add(f22.part.mirror(Plane.YZ))


with BuildPart() as f25:
    # F24 (on mid) → F25 (new body, symmetric)
    with BuildSketch(Plane.XY.offset(25)):
        Polygon((-446.3309627636, -431.6715377577), (-474.2251611558, -442.712991288), (-42.5, -1533.3870826289), (-42.5, -1500), (-23.4509464594, -1500), align=None)
        Polygon((-42.5, -1500), (-42.5, -1533.3870826289), (-14.6058016079, -1522.3456290986), (-23.4509464594, -1500), align=None)
        Polygon((-14.6058016079, -1522.3456290986), (-42.5, -1533.3870826289), (-42.5, -1700), (42.5, -1700), (42.5, -1533.3870826289), (14.6058016079, -1522.3456290986), (23.4509464594, -1500), (-23.4509464594, -1500), align=None)
        Polygon((42.5, -1500), (23.4509464594, -1500), (14.6058016079, -1522.3456290986), (42.5, -1533.3870826289), align=None)
        Polygon((446.3309627636, -431.6715377577), (23.4509464594, -1500), (42.5, -1500), (42.5, -1533.3870826289), (474.2251611558, -442.712991288), align=None)
    extrude(amount=F25_DEPTH, both=True)


with BuildPart() as f28:
    # F27 (on mid) → F28 (new body, symmetric)
    with BuildSketch(Plane.YZ.offset(575)):
        with Locations((-300, 170)):
            Circle(F27_R)
        with Locations((-300, 170)):
            Circle(F27_R_2, mode=Mode.SUBTRACT)
    extrude(amount=F28_DEPTH, both=True)


with BuildPart() as f30:
    # F29 (on face) → F30 (new body)
    with BuildSketch(Plane.YZ.offset(600)):
        with Locations((-300, 97.5)):
            Rectangle(F29_W, F29_H)
        with Locations((-300, 170)):
            Circle(F29_R, mode=Mode.SUBTRACT)
    extrude(amount=F30_DEPTH)


with BuildPart() as f31_1:
    # F31: instance of F30
    add(f30.part.mirror(Plane(origin=(575, 0, 25), x_dir=(0, 1, 0), z_dir=(1, 0, 0))))


with BuildPart() as f33:
    # F32 (on face) → F33 (new body, two sides)
    with BuildSketch(Plane.YZ.offset(605)) as f33_sk:
        with Locations((-300, 170)):
            Circle(F32_R)
    extrude(amount=F33_DEPTH)
    extrude(f33_sk.sketch, amount=-F33_DEPTH_BACK)


with BuildPart() as f34_1:
    # F34: instance of F31_1
    add(f31_1.part.mirror(Plane.YZ))


with BuildPart() as f34_2:
    # F34: instance of F30
    add(f30.part.mirror(Plane.YZ))


with BuildPart() as f34_3:
    # F34: instance of F33
    add(f33.part.mirror(Plane.YZ))


with BuildPart() as f34_4:
    # F34: instance of F28
    add(f28.part.mirror(Plane.YZ))


with BuildPart() as f36:
    # F35 (on Right) → F36 (new body, symmetric)
    with BuildSketch(Plane.YZ):
        with Locations((420, 170)):
            Circle(F35_R)
    extrude(amount=F36_DEPTH, both=True)


with BuildPart() as f38:
    # F37 (on face) → F38 (new body)
    with BuildSketch(Plane.XY.offset(50)):
        with Locations((0, 400)):
            Rectangle(F37_W, F37_H)
    extrude(amount=F38_DEPTH)



with BuildPart() as f40:
    # F39 (on face) → F40 (new body)
    with BuildSketch(Plane.YZ.offset(57.5)):
        Polygon((406.0569703579, 193.416684866), (350, 55), (450, 55), (450, 190.6481534243), align=None)
    extrude(amount=-F40_DEPTH)


with BuildPart() as f38_1:
    add(f38.part)

    add(f40.part)  # F41 merges F40
    # F41: F40 across plane
    add(f40.part.mirror(Plane.YZ))


with BuildPart() as f43:
    # F42 (on face) → F43 (new body, two sides)
    with BuildSketch(Plane.YZ.offset(31.5)) as f43_sk:
        with Locations((420, 170)):
            Circle(F42_R)
    extrude(amount=F43_DEPTH)
    extrude(f43_sk.sketch, amount=-F43_DEPTH_BACK)


solid = Compound([f3.part, f3b.part, f4_1.part, f4_2.part, f6.part, f7_1.part, f11.part, f11b.part, f11c.part, f11d.part, f11e.part, f11f.part, f11g.part, f11h.part, f13.part, f13b.part, f13c.part, f13d.part, f13e.part, f13f.part, f13g.part, f15.part, f15b.part, f15c.part, f15d.part, f15e.part, f15f.part, f15g.part, f17.part, f17b.part, f17c.part, f17d.part, f17e.part, f17f.part, f17g.part, f22.part, f23_1.part, f25.part, f28.part, f30.part, f31_1.part, f33.part, f34_1.part, f34_2.part, f34_3.part, f34_4.part, f36.part, f38_1.part, f43.part])
